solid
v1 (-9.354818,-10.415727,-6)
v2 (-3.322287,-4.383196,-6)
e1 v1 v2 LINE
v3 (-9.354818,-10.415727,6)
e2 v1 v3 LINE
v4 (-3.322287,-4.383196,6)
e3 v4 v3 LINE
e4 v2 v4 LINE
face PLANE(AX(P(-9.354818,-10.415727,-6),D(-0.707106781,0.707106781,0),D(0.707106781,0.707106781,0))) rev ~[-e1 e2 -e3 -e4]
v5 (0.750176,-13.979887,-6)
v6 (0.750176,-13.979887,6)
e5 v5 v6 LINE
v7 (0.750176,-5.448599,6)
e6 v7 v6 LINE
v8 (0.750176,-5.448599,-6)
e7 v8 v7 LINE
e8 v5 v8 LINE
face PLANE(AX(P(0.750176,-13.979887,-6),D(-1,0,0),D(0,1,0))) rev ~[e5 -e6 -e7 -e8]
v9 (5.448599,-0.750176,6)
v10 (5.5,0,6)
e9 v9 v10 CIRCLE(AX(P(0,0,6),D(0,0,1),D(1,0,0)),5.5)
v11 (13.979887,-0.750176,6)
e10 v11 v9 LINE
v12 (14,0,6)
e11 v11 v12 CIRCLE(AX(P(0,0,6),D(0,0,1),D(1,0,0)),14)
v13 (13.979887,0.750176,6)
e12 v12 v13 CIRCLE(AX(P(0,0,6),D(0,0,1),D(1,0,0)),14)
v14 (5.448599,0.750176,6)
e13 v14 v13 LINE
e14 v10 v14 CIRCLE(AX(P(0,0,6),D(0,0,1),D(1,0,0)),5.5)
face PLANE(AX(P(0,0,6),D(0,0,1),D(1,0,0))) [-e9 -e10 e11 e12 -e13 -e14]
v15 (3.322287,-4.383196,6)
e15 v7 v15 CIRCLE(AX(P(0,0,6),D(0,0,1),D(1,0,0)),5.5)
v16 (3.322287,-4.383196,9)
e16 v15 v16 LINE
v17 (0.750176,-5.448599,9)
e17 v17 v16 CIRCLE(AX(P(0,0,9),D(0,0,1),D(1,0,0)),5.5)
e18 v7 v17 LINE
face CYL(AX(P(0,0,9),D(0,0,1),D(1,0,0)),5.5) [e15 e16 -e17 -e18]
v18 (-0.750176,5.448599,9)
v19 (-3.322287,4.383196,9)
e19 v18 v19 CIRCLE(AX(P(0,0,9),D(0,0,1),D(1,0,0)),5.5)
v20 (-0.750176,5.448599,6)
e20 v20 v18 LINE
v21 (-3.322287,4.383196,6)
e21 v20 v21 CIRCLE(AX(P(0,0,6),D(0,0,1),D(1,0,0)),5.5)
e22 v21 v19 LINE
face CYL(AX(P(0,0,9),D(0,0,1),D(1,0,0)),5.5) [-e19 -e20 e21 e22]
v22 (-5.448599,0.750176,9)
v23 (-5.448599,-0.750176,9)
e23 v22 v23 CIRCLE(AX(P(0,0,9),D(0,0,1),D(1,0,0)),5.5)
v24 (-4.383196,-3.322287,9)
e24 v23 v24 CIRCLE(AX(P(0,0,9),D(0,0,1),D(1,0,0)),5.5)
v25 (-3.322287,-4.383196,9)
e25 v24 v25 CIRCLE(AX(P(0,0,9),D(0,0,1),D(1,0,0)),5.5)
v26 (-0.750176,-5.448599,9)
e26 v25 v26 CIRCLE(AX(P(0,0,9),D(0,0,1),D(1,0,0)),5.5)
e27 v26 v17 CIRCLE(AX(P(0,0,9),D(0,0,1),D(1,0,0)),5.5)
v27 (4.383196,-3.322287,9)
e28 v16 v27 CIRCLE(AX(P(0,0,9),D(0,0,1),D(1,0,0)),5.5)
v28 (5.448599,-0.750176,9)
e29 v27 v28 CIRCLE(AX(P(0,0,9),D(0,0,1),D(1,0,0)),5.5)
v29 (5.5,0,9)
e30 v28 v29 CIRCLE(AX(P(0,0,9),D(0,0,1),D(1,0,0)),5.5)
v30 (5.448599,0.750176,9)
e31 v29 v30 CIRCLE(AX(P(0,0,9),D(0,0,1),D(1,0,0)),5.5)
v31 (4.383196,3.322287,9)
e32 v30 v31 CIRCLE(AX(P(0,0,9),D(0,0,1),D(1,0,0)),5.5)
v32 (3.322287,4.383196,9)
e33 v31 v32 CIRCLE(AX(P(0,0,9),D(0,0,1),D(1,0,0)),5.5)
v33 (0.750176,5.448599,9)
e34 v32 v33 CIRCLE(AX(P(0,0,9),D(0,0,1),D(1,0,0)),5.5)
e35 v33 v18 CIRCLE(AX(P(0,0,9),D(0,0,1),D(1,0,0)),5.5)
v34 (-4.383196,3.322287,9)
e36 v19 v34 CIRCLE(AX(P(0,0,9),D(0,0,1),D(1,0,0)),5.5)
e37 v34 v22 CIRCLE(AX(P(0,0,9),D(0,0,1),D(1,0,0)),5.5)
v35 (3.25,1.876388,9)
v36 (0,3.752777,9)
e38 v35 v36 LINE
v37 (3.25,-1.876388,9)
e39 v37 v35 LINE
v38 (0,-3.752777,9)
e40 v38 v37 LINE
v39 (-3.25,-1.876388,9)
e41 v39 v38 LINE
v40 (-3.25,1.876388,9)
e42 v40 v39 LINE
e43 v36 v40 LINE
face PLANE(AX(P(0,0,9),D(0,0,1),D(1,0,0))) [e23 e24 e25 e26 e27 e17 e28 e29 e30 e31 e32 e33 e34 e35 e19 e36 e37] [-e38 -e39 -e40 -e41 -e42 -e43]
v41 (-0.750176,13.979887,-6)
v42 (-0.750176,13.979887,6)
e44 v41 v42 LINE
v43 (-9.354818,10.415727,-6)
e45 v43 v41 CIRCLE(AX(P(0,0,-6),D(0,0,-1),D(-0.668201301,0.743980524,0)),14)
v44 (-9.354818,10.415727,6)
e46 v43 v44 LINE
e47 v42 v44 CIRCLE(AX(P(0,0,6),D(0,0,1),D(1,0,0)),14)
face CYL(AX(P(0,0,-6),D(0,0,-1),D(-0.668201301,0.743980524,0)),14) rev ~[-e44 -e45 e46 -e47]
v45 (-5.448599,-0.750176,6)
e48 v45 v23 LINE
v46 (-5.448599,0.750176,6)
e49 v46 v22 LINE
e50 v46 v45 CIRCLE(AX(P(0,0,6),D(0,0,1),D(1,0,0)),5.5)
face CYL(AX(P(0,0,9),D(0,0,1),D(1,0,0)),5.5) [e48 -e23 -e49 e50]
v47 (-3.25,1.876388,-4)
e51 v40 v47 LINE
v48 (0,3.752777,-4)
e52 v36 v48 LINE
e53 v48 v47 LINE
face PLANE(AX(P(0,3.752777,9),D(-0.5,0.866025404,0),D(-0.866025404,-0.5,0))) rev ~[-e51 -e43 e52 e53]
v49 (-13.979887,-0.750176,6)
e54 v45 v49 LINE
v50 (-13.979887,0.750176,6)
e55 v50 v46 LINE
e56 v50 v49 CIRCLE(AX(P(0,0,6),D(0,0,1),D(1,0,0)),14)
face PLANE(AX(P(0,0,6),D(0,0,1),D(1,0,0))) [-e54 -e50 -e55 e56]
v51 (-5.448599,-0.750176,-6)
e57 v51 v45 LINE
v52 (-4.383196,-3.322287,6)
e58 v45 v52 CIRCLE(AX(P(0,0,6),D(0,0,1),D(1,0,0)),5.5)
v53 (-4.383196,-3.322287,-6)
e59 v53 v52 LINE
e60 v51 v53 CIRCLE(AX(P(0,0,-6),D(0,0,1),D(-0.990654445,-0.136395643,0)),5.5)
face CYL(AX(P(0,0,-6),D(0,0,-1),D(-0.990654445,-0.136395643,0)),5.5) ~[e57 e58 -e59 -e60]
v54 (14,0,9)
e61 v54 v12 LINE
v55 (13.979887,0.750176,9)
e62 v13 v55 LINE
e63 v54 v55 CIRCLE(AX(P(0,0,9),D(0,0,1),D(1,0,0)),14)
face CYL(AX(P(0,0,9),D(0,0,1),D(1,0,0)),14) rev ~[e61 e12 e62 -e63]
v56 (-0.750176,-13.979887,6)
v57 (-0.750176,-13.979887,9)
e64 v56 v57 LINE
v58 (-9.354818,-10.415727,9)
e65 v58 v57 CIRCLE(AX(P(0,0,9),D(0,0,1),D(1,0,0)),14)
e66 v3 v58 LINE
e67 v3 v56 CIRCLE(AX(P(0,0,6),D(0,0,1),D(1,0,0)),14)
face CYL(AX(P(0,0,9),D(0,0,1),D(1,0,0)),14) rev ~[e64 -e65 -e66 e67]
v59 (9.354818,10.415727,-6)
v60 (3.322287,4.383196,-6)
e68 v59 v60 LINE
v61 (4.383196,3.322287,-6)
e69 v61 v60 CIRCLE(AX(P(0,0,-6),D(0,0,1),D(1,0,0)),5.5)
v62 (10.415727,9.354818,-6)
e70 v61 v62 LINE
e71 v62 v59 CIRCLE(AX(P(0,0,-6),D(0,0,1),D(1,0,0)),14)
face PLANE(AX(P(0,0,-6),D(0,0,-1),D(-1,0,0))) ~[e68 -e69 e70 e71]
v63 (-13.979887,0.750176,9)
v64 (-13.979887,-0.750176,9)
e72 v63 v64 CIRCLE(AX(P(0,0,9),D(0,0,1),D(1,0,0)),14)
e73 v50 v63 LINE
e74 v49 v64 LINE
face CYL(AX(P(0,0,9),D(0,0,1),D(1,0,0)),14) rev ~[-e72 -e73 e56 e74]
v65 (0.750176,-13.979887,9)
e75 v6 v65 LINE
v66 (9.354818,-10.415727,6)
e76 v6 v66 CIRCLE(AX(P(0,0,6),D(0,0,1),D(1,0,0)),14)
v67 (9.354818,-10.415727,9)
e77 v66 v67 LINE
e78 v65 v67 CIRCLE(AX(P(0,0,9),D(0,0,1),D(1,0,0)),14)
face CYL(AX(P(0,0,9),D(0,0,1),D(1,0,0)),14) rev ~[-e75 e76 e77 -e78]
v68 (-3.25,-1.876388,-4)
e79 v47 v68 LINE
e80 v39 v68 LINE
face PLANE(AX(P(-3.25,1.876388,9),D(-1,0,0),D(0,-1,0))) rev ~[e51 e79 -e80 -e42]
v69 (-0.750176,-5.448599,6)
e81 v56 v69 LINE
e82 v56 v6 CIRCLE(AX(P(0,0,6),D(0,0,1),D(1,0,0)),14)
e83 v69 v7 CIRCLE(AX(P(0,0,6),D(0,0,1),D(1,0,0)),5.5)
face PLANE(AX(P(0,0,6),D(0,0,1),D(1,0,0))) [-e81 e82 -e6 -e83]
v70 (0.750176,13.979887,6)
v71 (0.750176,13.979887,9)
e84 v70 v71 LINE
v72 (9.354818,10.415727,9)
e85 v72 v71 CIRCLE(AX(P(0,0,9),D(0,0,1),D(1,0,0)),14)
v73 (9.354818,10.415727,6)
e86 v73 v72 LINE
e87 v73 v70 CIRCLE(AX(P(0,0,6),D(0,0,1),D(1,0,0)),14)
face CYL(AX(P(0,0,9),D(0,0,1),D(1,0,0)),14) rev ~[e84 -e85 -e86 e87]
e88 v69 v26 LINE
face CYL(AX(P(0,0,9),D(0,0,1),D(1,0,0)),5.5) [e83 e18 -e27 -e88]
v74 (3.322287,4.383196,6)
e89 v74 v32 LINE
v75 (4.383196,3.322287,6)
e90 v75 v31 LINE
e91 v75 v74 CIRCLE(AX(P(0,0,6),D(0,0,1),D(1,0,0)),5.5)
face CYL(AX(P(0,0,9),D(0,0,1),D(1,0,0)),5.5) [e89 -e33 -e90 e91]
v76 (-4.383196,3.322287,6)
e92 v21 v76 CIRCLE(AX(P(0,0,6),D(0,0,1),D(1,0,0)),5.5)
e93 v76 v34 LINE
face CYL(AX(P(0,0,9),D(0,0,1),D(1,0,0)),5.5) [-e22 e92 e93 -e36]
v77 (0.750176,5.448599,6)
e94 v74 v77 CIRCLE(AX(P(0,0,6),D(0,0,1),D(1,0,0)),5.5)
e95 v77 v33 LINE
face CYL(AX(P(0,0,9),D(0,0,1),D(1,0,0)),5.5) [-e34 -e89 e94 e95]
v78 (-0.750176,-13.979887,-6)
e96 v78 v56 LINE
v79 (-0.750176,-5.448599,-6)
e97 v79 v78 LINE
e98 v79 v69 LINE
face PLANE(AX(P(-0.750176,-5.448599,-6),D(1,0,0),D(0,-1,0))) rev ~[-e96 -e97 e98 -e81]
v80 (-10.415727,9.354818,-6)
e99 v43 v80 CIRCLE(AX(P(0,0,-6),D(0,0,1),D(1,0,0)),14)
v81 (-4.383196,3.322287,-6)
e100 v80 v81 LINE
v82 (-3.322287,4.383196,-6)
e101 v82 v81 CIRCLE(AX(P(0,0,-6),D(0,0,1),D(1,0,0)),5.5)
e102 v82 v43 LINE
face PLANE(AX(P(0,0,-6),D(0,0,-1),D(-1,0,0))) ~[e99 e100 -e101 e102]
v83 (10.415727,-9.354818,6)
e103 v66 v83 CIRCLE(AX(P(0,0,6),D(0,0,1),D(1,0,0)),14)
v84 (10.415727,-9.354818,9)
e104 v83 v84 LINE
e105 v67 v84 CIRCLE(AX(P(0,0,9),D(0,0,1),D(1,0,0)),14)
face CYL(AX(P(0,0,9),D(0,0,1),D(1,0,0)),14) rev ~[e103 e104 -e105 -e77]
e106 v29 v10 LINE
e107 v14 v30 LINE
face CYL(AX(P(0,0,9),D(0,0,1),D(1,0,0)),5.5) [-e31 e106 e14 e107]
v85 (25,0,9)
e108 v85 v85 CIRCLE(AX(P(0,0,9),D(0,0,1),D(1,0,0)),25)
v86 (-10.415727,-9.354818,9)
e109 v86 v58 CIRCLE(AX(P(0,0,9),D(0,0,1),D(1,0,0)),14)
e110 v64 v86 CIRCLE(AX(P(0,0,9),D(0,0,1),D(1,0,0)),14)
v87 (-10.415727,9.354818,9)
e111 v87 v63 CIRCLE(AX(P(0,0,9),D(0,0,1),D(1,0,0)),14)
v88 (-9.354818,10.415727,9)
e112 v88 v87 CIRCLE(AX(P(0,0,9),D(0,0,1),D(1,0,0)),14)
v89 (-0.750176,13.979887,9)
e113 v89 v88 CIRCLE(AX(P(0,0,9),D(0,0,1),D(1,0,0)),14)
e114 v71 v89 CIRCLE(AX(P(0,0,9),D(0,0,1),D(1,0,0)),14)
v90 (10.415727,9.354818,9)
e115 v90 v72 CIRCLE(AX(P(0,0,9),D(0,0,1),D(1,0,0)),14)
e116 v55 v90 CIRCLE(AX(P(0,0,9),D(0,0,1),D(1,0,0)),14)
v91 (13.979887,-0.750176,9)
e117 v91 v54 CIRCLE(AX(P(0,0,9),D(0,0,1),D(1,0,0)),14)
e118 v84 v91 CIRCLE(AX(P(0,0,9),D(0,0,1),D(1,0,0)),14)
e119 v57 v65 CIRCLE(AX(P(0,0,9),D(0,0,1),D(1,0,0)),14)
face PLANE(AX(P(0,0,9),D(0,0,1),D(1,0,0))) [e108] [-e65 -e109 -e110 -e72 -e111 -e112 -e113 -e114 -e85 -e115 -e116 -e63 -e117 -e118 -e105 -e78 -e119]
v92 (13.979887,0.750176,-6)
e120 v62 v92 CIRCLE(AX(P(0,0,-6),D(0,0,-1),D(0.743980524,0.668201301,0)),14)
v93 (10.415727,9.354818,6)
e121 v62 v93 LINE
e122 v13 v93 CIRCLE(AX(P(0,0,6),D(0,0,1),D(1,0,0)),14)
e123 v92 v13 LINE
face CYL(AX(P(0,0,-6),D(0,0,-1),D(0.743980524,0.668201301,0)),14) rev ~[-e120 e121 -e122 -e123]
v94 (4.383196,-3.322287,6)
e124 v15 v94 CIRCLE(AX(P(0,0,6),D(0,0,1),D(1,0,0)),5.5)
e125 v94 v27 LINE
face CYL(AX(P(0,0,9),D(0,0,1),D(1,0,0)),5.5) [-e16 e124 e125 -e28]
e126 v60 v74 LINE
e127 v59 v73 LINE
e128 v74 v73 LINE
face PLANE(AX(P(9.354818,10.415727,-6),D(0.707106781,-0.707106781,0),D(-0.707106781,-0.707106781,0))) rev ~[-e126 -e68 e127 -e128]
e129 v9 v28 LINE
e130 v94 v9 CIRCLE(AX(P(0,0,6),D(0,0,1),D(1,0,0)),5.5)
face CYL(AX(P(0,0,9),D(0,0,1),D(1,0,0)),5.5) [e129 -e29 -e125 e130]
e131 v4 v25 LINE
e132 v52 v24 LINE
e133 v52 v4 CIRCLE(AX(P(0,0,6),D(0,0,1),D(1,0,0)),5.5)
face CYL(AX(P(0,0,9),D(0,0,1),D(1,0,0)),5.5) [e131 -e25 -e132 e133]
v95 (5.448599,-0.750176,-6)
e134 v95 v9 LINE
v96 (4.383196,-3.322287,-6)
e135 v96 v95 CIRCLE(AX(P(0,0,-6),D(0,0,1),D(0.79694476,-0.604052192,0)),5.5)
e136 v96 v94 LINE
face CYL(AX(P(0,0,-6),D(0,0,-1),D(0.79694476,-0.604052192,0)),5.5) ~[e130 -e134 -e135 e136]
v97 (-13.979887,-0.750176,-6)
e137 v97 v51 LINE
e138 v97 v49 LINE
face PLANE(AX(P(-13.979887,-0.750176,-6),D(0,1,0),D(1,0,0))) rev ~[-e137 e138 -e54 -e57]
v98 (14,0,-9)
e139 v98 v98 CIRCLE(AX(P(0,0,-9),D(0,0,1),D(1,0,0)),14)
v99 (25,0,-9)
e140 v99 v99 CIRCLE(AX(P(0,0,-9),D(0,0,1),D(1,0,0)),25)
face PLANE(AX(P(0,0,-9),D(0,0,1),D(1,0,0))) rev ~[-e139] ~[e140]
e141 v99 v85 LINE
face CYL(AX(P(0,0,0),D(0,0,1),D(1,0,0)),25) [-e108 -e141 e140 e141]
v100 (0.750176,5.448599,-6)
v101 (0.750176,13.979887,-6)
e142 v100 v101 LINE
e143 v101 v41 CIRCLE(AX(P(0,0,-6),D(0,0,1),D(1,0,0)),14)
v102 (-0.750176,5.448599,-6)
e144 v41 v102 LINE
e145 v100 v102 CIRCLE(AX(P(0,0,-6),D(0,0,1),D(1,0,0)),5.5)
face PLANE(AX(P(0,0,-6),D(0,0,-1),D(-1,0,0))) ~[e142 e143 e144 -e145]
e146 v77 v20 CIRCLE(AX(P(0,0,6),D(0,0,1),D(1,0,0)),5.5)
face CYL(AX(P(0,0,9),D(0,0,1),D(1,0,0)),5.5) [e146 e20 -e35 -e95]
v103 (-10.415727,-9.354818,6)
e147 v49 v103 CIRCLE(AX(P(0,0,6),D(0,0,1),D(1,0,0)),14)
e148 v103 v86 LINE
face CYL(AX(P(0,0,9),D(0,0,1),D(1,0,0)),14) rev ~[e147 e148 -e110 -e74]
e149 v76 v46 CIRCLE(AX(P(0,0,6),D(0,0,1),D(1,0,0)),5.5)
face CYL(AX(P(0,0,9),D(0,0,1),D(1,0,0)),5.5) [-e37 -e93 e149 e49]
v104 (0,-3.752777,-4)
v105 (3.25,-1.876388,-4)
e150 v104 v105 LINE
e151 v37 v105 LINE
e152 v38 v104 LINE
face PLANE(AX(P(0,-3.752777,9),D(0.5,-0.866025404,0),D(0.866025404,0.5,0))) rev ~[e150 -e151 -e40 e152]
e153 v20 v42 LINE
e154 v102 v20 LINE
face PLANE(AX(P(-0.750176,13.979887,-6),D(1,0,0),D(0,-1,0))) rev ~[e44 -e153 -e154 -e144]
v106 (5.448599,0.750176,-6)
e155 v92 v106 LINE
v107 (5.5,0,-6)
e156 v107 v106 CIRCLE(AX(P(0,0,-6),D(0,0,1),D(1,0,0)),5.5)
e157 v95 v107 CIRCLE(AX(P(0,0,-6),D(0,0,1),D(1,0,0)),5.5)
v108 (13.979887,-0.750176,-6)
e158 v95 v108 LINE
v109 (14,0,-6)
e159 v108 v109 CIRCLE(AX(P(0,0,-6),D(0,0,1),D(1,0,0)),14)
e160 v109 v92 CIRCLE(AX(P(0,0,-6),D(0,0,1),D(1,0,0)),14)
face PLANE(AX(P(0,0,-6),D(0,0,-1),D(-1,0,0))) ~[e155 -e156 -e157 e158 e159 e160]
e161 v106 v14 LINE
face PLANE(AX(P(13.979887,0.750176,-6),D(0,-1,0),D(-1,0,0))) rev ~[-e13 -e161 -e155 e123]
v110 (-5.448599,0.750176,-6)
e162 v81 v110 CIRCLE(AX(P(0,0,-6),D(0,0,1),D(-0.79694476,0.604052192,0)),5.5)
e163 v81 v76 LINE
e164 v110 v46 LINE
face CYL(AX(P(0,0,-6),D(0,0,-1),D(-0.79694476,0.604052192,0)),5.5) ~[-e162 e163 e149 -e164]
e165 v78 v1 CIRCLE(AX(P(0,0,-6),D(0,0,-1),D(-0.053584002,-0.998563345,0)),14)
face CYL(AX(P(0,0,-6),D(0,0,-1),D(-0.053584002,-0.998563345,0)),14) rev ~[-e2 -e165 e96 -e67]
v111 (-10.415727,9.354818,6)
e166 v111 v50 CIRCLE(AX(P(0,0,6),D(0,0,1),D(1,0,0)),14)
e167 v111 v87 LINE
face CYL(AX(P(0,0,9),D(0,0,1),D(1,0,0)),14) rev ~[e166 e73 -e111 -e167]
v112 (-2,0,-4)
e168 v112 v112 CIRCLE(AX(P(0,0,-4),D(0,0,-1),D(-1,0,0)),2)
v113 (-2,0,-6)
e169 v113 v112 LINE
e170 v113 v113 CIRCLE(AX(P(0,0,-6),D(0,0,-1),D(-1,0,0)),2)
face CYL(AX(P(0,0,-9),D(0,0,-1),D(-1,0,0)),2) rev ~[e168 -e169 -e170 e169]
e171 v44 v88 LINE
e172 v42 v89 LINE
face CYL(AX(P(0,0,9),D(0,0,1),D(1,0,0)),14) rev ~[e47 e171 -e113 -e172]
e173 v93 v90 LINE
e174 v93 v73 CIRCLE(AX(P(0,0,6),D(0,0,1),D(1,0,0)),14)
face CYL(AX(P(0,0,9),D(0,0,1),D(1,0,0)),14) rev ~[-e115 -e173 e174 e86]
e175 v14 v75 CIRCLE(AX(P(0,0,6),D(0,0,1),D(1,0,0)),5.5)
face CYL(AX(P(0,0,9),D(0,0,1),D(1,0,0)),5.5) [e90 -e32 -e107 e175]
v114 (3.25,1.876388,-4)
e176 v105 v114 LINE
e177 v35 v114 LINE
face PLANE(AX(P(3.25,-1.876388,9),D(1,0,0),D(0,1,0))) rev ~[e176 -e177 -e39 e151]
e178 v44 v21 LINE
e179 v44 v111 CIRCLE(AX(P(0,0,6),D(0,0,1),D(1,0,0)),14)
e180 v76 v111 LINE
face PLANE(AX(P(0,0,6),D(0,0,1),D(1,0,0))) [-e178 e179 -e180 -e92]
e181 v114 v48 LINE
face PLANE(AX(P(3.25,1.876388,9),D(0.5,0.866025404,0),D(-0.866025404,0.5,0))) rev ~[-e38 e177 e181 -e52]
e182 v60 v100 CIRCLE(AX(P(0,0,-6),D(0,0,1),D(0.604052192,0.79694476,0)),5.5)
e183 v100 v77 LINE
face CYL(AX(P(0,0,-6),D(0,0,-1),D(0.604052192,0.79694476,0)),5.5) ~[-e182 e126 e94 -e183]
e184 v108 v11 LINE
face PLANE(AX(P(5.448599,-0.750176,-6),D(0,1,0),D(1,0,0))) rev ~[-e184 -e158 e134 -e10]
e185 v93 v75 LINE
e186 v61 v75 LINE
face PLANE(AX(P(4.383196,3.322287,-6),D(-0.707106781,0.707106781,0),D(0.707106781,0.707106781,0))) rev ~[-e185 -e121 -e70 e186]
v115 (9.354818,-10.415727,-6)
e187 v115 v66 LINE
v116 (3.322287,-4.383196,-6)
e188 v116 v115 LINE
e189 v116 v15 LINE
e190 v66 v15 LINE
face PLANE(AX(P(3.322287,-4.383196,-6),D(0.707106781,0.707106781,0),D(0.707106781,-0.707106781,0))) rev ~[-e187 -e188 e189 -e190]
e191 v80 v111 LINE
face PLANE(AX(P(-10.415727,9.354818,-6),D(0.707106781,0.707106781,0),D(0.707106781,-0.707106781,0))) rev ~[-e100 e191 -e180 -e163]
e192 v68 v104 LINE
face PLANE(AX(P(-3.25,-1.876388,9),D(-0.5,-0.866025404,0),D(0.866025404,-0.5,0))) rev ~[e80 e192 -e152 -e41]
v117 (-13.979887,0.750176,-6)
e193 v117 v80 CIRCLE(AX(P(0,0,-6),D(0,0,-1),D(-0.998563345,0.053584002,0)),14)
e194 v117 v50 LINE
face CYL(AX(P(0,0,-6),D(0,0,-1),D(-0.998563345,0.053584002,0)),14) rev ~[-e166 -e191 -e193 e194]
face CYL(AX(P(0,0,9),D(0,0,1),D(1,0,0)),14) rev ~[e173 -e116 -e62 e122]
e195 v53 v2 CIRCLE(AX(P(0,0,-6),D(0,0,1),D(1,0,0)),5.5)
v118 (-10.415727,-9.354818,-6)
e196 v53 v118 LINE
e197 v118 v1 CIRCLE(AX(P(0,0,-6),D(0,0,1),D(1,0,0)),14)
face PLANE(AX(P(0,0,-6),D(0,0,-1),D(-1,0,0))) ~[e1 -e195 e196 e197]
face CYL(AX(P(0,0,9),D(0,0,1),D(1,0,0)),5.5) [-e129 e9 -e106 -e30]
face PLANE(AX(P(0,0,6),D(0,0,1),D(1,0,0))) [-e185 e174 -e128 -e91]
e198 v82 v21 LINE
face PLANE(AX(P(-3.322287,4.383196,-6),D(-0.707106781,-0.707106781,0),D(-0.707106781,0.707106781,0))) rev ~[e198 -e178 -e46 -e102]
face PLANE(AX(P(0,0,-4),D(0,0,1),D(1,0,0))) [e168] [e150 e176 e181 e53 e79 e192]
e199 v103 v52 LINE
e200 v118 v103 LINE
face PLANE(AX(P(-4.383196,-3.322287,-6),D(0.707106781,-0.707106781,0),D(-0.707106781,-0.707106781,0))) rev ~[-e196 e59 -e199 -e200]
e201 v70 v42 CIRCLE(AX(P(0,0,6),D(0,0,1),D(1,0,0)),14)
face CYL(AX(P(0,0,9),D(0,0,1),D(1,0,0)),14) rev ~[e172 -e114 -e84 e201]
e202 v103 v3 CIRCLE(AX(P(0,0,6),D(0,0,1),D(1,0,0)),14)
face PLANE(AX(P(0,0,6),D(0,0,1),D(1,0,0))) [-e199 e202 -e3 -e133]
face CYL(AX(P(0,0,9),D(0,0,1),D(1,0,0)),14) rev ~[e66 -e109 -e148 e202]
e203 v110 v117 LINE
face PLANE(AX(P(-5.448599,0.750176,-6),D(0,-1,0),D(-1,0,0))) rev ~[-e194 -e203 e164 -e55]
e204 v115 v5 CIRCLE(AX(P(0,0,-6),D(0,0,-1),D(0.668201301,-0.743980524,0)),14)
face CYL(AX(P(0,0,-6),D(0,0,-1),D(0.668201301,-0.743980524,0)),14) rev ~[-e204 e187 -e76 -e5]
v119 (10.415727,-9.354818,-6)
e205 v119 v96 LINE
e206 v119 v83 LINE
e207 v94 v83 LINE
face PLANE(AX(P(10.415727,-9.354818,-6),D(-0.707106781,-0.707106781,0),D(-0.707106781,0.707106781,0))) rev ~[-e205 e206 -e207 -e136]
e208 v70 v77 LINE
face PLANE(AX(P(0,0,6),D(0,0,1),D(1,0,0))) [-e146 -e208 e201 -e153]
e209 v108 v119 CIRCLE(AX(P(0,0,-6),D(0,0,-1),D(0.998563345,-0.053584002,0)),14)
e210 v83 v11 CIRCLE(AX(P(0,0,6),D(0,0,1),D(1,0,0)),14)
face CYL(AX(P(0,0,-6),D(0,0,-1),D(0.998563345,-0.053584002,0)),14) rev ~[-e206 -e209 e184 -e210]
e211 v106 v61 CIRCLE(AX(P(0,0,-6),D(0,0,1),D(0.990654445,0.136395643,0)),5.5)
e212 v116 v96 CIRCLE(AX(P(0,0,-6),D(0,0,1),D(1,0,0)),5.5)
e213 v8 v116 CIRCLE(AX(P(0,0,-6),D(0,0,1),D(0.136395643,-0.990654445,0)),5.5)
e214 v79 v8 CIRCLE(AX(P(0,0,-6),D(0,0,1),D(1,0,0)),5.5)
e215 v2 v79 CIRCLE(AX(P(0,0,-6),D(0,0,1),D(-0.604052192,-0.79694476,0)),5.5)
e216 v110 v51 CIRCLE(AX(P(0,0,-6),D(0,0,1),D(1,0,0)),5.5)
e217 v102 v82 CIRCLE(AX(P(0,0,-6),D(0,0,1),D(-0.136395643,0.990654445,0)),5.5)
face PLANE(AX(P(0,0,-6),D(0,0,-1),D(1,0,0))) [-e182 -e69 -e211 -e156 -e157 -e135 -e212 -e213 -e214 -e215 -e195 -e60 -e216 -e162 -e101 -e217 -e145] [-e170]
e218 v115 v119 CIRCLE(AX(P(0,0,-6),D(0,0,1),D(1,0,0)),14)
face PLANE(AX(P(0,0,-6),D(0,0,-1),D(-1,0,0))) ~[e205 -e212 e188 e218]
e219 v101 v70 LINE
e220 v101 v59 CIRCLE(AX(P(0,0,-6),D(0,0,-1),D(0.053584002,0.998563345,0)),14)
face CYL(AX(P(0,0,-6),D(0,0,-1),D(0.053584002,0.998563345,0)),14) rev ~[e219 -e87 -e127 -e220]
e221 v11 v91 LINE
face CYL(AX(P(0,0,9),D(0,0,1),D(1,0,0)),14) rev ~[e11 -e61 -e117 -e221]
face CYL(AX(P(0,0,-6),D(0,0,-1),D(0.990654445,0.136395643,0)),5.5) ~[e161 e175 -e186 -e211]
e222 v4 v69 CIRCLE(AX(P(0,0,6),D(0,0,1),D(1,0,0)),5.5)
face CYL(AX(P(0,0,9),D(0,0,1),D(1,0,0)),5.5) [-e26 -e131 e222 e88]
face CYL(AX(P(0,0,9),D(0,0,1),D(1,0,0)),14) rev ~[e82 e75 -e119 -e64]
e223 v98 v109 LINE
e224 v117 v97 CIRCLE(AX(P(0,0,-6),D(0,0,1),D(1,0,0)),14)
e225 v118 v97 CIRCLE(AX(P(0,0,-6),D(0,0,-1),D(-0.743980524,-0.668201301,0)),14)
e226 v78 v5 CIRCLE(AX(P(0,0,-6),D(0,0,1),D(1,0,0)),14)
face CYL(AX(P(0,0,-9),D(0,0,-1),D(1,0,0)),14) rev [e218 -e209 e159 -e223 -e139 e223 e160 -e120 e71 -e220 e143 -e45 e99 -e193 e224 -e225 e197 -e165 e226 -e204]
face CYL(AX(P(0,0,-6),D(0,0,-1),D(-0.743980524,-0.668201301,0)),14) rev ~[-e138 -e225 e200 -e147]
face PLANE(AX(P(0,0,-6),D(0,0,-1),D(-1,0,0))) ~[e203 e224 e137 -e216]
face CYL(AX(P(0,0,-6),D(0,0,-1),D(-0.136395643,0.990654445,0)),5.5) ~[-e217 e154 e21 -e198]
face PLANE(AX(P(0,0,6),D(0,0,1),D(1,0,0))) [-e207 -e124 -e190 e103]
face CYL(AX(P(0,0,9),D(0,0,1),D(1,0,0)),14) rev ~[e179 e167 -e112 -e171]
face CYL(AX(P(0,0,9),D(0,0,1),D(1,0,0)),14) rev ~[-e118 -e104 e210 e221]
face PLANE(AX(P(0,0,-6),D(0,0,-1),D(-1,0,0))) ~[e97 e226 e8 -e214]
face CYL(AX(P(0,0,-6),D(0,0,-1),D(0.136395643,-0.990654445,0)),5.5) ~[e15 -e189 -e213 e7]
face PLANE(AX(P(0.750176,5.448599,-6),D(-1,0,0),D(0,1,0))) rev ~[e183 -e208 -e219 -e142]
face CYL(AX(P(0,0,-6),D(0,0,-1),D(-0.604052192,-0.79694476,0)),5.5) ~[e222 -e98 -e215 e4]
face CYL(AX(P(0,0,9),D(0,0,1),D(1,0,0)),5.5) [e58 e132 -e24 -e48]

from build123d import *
from build123d.topology import SkipClean

# Parameters (mm, degrees)
SKETCH_2_R               = 25
EXTRUDE_1_DEPTH          = 9
SKETCH_3_R               = 14
SKETCH_3_R_2             = 5.5
CUT_EXTRUDE_1_DEPTH      = 3
CUT_EXTRUDE_3_DEPTH      = 13
SKETCH_6_R               = 2
CUT_EXTRUDE_4_DEPTH      = 5
CUT_EXTRUDE_5_DEPTH      = 20
PATTERN_CIRCULAR_1_COUNT = 8
SKETCH_8_R               = 5.5
CUT_EXTRUDE_6_DEPTH      = 3


with BuildPart() as part:
    # 草图2 → 凸台-拉伸1 (new, symmetric)
    with BuildSketch(Plane.XY):
        Circle(SKETCH_2_R)
    extrude(amount=EXTRUDE_1_DEPTH, both=True)

    # 草图3 → 切除-拉伸1 (cut)
    with BuildSketch(Plane.XY.offset(9)):
        Circle(SKETCH_3_R)
        Circle(SKETCH_3_R_2, mode=Mode.SUBTRACT)
    cut_extrude_1 = extrude(amount=-CUT_EXTRUDE_1_DEPTH, mode=Mode.SUBTRACT)

    # 镜向1: 切除-拉伸1 across plane
    add(cut_extrude_1.mirror(Plane.XY), mode=Mode.SUBTRACT)

    # 草图5 → 切除-拉伸3 (cut)
    with BuildSketch(Plane.XY.offset(9)):
        Polygon((3.25, -1.876388375), (3.25, 1.876388375), (0, 3.75277675), (-3.25, 1.876388375), (-3.25, -1.876388375), (0, -3.75277675), align=None)
    extrude(amount=-CUT_EXTRUDE_3_DEPTH, mode=Mode.SUBTRACT)

    # 草图6 → 切除-拉伸4 (cut)
    with BuildSketch(Plane(origin=(0, 0, -9), x_dir=(-1, 0, 0), z_dir=(0, 0, -1))):
        Circle(SKETCH_6_R)
    extrude(amount=-CUT_EXTRUDE_4_DEPTH, mode=Mode.SUBTRACT)

    # 草图7 → 切除-拉伸5 (cut)
    with BuildSketch(Plane(origin=(0, 0, -6), x_dir=(-1, 0, 0), z_dir=(0, 0, -1))):
        with BuildLine():
            Line((0.750176034, 13.979886835), (0.750176034, 5.448599446))
            ThreePointArc((0.750176034, 5.448599446), (2.104758878, 5.081337429), (3.322287055, 4.383196177))
            Line((3.322287055, 4.383196177), (9.35481822, 10.415727342))
            ThreePointArc((9.35481822, 10.415727342), (5.357568053, 12.934313455), (0.750176034, 13.979886835))
        make_face()
    cut_extrude_5 = extrude(amount=-CUT_EXTRUDE_5_DEPTH, mode=Mode.SUBTRACT)

    # 阵列(圆周)1: 切除-拉伸5 ×8 about axis
    with SkipClean():  # the faces are left unmerged after this step: merging them gives an invalid solid
        pattern_circular_1_axis = Axis((0, 0, 0), (0, 0, 1))
        for i in range(1, PATTERN_CIRCULAR_1_COUNT):
            add(cut_extrude_5.rotate(pattern_circular_1_axis, i * 360 / PATTERN_CIRCULAR_1_COUNT), mode=Mode.SUBTRACT)

    # 草图8 → 切除-拉伸6 (cut)
    with SkipClean():  # the faces are left unmerged after this step: merging them gives an invalid solid
        with BuildSketch(Plane(origin=(0, 0, -9), x_dir=(-1, 0, 0), z_dir=(0, 0, -1))):
            with Locations(Location((0, 0, 0), (0, 0, 180))):
                Circle(SKETCH_8_R)
        extrude(amount=-CUT_EXTRUDE_6_DEPTH, mode=Mode.SUBTRACT)


solid = part.part
